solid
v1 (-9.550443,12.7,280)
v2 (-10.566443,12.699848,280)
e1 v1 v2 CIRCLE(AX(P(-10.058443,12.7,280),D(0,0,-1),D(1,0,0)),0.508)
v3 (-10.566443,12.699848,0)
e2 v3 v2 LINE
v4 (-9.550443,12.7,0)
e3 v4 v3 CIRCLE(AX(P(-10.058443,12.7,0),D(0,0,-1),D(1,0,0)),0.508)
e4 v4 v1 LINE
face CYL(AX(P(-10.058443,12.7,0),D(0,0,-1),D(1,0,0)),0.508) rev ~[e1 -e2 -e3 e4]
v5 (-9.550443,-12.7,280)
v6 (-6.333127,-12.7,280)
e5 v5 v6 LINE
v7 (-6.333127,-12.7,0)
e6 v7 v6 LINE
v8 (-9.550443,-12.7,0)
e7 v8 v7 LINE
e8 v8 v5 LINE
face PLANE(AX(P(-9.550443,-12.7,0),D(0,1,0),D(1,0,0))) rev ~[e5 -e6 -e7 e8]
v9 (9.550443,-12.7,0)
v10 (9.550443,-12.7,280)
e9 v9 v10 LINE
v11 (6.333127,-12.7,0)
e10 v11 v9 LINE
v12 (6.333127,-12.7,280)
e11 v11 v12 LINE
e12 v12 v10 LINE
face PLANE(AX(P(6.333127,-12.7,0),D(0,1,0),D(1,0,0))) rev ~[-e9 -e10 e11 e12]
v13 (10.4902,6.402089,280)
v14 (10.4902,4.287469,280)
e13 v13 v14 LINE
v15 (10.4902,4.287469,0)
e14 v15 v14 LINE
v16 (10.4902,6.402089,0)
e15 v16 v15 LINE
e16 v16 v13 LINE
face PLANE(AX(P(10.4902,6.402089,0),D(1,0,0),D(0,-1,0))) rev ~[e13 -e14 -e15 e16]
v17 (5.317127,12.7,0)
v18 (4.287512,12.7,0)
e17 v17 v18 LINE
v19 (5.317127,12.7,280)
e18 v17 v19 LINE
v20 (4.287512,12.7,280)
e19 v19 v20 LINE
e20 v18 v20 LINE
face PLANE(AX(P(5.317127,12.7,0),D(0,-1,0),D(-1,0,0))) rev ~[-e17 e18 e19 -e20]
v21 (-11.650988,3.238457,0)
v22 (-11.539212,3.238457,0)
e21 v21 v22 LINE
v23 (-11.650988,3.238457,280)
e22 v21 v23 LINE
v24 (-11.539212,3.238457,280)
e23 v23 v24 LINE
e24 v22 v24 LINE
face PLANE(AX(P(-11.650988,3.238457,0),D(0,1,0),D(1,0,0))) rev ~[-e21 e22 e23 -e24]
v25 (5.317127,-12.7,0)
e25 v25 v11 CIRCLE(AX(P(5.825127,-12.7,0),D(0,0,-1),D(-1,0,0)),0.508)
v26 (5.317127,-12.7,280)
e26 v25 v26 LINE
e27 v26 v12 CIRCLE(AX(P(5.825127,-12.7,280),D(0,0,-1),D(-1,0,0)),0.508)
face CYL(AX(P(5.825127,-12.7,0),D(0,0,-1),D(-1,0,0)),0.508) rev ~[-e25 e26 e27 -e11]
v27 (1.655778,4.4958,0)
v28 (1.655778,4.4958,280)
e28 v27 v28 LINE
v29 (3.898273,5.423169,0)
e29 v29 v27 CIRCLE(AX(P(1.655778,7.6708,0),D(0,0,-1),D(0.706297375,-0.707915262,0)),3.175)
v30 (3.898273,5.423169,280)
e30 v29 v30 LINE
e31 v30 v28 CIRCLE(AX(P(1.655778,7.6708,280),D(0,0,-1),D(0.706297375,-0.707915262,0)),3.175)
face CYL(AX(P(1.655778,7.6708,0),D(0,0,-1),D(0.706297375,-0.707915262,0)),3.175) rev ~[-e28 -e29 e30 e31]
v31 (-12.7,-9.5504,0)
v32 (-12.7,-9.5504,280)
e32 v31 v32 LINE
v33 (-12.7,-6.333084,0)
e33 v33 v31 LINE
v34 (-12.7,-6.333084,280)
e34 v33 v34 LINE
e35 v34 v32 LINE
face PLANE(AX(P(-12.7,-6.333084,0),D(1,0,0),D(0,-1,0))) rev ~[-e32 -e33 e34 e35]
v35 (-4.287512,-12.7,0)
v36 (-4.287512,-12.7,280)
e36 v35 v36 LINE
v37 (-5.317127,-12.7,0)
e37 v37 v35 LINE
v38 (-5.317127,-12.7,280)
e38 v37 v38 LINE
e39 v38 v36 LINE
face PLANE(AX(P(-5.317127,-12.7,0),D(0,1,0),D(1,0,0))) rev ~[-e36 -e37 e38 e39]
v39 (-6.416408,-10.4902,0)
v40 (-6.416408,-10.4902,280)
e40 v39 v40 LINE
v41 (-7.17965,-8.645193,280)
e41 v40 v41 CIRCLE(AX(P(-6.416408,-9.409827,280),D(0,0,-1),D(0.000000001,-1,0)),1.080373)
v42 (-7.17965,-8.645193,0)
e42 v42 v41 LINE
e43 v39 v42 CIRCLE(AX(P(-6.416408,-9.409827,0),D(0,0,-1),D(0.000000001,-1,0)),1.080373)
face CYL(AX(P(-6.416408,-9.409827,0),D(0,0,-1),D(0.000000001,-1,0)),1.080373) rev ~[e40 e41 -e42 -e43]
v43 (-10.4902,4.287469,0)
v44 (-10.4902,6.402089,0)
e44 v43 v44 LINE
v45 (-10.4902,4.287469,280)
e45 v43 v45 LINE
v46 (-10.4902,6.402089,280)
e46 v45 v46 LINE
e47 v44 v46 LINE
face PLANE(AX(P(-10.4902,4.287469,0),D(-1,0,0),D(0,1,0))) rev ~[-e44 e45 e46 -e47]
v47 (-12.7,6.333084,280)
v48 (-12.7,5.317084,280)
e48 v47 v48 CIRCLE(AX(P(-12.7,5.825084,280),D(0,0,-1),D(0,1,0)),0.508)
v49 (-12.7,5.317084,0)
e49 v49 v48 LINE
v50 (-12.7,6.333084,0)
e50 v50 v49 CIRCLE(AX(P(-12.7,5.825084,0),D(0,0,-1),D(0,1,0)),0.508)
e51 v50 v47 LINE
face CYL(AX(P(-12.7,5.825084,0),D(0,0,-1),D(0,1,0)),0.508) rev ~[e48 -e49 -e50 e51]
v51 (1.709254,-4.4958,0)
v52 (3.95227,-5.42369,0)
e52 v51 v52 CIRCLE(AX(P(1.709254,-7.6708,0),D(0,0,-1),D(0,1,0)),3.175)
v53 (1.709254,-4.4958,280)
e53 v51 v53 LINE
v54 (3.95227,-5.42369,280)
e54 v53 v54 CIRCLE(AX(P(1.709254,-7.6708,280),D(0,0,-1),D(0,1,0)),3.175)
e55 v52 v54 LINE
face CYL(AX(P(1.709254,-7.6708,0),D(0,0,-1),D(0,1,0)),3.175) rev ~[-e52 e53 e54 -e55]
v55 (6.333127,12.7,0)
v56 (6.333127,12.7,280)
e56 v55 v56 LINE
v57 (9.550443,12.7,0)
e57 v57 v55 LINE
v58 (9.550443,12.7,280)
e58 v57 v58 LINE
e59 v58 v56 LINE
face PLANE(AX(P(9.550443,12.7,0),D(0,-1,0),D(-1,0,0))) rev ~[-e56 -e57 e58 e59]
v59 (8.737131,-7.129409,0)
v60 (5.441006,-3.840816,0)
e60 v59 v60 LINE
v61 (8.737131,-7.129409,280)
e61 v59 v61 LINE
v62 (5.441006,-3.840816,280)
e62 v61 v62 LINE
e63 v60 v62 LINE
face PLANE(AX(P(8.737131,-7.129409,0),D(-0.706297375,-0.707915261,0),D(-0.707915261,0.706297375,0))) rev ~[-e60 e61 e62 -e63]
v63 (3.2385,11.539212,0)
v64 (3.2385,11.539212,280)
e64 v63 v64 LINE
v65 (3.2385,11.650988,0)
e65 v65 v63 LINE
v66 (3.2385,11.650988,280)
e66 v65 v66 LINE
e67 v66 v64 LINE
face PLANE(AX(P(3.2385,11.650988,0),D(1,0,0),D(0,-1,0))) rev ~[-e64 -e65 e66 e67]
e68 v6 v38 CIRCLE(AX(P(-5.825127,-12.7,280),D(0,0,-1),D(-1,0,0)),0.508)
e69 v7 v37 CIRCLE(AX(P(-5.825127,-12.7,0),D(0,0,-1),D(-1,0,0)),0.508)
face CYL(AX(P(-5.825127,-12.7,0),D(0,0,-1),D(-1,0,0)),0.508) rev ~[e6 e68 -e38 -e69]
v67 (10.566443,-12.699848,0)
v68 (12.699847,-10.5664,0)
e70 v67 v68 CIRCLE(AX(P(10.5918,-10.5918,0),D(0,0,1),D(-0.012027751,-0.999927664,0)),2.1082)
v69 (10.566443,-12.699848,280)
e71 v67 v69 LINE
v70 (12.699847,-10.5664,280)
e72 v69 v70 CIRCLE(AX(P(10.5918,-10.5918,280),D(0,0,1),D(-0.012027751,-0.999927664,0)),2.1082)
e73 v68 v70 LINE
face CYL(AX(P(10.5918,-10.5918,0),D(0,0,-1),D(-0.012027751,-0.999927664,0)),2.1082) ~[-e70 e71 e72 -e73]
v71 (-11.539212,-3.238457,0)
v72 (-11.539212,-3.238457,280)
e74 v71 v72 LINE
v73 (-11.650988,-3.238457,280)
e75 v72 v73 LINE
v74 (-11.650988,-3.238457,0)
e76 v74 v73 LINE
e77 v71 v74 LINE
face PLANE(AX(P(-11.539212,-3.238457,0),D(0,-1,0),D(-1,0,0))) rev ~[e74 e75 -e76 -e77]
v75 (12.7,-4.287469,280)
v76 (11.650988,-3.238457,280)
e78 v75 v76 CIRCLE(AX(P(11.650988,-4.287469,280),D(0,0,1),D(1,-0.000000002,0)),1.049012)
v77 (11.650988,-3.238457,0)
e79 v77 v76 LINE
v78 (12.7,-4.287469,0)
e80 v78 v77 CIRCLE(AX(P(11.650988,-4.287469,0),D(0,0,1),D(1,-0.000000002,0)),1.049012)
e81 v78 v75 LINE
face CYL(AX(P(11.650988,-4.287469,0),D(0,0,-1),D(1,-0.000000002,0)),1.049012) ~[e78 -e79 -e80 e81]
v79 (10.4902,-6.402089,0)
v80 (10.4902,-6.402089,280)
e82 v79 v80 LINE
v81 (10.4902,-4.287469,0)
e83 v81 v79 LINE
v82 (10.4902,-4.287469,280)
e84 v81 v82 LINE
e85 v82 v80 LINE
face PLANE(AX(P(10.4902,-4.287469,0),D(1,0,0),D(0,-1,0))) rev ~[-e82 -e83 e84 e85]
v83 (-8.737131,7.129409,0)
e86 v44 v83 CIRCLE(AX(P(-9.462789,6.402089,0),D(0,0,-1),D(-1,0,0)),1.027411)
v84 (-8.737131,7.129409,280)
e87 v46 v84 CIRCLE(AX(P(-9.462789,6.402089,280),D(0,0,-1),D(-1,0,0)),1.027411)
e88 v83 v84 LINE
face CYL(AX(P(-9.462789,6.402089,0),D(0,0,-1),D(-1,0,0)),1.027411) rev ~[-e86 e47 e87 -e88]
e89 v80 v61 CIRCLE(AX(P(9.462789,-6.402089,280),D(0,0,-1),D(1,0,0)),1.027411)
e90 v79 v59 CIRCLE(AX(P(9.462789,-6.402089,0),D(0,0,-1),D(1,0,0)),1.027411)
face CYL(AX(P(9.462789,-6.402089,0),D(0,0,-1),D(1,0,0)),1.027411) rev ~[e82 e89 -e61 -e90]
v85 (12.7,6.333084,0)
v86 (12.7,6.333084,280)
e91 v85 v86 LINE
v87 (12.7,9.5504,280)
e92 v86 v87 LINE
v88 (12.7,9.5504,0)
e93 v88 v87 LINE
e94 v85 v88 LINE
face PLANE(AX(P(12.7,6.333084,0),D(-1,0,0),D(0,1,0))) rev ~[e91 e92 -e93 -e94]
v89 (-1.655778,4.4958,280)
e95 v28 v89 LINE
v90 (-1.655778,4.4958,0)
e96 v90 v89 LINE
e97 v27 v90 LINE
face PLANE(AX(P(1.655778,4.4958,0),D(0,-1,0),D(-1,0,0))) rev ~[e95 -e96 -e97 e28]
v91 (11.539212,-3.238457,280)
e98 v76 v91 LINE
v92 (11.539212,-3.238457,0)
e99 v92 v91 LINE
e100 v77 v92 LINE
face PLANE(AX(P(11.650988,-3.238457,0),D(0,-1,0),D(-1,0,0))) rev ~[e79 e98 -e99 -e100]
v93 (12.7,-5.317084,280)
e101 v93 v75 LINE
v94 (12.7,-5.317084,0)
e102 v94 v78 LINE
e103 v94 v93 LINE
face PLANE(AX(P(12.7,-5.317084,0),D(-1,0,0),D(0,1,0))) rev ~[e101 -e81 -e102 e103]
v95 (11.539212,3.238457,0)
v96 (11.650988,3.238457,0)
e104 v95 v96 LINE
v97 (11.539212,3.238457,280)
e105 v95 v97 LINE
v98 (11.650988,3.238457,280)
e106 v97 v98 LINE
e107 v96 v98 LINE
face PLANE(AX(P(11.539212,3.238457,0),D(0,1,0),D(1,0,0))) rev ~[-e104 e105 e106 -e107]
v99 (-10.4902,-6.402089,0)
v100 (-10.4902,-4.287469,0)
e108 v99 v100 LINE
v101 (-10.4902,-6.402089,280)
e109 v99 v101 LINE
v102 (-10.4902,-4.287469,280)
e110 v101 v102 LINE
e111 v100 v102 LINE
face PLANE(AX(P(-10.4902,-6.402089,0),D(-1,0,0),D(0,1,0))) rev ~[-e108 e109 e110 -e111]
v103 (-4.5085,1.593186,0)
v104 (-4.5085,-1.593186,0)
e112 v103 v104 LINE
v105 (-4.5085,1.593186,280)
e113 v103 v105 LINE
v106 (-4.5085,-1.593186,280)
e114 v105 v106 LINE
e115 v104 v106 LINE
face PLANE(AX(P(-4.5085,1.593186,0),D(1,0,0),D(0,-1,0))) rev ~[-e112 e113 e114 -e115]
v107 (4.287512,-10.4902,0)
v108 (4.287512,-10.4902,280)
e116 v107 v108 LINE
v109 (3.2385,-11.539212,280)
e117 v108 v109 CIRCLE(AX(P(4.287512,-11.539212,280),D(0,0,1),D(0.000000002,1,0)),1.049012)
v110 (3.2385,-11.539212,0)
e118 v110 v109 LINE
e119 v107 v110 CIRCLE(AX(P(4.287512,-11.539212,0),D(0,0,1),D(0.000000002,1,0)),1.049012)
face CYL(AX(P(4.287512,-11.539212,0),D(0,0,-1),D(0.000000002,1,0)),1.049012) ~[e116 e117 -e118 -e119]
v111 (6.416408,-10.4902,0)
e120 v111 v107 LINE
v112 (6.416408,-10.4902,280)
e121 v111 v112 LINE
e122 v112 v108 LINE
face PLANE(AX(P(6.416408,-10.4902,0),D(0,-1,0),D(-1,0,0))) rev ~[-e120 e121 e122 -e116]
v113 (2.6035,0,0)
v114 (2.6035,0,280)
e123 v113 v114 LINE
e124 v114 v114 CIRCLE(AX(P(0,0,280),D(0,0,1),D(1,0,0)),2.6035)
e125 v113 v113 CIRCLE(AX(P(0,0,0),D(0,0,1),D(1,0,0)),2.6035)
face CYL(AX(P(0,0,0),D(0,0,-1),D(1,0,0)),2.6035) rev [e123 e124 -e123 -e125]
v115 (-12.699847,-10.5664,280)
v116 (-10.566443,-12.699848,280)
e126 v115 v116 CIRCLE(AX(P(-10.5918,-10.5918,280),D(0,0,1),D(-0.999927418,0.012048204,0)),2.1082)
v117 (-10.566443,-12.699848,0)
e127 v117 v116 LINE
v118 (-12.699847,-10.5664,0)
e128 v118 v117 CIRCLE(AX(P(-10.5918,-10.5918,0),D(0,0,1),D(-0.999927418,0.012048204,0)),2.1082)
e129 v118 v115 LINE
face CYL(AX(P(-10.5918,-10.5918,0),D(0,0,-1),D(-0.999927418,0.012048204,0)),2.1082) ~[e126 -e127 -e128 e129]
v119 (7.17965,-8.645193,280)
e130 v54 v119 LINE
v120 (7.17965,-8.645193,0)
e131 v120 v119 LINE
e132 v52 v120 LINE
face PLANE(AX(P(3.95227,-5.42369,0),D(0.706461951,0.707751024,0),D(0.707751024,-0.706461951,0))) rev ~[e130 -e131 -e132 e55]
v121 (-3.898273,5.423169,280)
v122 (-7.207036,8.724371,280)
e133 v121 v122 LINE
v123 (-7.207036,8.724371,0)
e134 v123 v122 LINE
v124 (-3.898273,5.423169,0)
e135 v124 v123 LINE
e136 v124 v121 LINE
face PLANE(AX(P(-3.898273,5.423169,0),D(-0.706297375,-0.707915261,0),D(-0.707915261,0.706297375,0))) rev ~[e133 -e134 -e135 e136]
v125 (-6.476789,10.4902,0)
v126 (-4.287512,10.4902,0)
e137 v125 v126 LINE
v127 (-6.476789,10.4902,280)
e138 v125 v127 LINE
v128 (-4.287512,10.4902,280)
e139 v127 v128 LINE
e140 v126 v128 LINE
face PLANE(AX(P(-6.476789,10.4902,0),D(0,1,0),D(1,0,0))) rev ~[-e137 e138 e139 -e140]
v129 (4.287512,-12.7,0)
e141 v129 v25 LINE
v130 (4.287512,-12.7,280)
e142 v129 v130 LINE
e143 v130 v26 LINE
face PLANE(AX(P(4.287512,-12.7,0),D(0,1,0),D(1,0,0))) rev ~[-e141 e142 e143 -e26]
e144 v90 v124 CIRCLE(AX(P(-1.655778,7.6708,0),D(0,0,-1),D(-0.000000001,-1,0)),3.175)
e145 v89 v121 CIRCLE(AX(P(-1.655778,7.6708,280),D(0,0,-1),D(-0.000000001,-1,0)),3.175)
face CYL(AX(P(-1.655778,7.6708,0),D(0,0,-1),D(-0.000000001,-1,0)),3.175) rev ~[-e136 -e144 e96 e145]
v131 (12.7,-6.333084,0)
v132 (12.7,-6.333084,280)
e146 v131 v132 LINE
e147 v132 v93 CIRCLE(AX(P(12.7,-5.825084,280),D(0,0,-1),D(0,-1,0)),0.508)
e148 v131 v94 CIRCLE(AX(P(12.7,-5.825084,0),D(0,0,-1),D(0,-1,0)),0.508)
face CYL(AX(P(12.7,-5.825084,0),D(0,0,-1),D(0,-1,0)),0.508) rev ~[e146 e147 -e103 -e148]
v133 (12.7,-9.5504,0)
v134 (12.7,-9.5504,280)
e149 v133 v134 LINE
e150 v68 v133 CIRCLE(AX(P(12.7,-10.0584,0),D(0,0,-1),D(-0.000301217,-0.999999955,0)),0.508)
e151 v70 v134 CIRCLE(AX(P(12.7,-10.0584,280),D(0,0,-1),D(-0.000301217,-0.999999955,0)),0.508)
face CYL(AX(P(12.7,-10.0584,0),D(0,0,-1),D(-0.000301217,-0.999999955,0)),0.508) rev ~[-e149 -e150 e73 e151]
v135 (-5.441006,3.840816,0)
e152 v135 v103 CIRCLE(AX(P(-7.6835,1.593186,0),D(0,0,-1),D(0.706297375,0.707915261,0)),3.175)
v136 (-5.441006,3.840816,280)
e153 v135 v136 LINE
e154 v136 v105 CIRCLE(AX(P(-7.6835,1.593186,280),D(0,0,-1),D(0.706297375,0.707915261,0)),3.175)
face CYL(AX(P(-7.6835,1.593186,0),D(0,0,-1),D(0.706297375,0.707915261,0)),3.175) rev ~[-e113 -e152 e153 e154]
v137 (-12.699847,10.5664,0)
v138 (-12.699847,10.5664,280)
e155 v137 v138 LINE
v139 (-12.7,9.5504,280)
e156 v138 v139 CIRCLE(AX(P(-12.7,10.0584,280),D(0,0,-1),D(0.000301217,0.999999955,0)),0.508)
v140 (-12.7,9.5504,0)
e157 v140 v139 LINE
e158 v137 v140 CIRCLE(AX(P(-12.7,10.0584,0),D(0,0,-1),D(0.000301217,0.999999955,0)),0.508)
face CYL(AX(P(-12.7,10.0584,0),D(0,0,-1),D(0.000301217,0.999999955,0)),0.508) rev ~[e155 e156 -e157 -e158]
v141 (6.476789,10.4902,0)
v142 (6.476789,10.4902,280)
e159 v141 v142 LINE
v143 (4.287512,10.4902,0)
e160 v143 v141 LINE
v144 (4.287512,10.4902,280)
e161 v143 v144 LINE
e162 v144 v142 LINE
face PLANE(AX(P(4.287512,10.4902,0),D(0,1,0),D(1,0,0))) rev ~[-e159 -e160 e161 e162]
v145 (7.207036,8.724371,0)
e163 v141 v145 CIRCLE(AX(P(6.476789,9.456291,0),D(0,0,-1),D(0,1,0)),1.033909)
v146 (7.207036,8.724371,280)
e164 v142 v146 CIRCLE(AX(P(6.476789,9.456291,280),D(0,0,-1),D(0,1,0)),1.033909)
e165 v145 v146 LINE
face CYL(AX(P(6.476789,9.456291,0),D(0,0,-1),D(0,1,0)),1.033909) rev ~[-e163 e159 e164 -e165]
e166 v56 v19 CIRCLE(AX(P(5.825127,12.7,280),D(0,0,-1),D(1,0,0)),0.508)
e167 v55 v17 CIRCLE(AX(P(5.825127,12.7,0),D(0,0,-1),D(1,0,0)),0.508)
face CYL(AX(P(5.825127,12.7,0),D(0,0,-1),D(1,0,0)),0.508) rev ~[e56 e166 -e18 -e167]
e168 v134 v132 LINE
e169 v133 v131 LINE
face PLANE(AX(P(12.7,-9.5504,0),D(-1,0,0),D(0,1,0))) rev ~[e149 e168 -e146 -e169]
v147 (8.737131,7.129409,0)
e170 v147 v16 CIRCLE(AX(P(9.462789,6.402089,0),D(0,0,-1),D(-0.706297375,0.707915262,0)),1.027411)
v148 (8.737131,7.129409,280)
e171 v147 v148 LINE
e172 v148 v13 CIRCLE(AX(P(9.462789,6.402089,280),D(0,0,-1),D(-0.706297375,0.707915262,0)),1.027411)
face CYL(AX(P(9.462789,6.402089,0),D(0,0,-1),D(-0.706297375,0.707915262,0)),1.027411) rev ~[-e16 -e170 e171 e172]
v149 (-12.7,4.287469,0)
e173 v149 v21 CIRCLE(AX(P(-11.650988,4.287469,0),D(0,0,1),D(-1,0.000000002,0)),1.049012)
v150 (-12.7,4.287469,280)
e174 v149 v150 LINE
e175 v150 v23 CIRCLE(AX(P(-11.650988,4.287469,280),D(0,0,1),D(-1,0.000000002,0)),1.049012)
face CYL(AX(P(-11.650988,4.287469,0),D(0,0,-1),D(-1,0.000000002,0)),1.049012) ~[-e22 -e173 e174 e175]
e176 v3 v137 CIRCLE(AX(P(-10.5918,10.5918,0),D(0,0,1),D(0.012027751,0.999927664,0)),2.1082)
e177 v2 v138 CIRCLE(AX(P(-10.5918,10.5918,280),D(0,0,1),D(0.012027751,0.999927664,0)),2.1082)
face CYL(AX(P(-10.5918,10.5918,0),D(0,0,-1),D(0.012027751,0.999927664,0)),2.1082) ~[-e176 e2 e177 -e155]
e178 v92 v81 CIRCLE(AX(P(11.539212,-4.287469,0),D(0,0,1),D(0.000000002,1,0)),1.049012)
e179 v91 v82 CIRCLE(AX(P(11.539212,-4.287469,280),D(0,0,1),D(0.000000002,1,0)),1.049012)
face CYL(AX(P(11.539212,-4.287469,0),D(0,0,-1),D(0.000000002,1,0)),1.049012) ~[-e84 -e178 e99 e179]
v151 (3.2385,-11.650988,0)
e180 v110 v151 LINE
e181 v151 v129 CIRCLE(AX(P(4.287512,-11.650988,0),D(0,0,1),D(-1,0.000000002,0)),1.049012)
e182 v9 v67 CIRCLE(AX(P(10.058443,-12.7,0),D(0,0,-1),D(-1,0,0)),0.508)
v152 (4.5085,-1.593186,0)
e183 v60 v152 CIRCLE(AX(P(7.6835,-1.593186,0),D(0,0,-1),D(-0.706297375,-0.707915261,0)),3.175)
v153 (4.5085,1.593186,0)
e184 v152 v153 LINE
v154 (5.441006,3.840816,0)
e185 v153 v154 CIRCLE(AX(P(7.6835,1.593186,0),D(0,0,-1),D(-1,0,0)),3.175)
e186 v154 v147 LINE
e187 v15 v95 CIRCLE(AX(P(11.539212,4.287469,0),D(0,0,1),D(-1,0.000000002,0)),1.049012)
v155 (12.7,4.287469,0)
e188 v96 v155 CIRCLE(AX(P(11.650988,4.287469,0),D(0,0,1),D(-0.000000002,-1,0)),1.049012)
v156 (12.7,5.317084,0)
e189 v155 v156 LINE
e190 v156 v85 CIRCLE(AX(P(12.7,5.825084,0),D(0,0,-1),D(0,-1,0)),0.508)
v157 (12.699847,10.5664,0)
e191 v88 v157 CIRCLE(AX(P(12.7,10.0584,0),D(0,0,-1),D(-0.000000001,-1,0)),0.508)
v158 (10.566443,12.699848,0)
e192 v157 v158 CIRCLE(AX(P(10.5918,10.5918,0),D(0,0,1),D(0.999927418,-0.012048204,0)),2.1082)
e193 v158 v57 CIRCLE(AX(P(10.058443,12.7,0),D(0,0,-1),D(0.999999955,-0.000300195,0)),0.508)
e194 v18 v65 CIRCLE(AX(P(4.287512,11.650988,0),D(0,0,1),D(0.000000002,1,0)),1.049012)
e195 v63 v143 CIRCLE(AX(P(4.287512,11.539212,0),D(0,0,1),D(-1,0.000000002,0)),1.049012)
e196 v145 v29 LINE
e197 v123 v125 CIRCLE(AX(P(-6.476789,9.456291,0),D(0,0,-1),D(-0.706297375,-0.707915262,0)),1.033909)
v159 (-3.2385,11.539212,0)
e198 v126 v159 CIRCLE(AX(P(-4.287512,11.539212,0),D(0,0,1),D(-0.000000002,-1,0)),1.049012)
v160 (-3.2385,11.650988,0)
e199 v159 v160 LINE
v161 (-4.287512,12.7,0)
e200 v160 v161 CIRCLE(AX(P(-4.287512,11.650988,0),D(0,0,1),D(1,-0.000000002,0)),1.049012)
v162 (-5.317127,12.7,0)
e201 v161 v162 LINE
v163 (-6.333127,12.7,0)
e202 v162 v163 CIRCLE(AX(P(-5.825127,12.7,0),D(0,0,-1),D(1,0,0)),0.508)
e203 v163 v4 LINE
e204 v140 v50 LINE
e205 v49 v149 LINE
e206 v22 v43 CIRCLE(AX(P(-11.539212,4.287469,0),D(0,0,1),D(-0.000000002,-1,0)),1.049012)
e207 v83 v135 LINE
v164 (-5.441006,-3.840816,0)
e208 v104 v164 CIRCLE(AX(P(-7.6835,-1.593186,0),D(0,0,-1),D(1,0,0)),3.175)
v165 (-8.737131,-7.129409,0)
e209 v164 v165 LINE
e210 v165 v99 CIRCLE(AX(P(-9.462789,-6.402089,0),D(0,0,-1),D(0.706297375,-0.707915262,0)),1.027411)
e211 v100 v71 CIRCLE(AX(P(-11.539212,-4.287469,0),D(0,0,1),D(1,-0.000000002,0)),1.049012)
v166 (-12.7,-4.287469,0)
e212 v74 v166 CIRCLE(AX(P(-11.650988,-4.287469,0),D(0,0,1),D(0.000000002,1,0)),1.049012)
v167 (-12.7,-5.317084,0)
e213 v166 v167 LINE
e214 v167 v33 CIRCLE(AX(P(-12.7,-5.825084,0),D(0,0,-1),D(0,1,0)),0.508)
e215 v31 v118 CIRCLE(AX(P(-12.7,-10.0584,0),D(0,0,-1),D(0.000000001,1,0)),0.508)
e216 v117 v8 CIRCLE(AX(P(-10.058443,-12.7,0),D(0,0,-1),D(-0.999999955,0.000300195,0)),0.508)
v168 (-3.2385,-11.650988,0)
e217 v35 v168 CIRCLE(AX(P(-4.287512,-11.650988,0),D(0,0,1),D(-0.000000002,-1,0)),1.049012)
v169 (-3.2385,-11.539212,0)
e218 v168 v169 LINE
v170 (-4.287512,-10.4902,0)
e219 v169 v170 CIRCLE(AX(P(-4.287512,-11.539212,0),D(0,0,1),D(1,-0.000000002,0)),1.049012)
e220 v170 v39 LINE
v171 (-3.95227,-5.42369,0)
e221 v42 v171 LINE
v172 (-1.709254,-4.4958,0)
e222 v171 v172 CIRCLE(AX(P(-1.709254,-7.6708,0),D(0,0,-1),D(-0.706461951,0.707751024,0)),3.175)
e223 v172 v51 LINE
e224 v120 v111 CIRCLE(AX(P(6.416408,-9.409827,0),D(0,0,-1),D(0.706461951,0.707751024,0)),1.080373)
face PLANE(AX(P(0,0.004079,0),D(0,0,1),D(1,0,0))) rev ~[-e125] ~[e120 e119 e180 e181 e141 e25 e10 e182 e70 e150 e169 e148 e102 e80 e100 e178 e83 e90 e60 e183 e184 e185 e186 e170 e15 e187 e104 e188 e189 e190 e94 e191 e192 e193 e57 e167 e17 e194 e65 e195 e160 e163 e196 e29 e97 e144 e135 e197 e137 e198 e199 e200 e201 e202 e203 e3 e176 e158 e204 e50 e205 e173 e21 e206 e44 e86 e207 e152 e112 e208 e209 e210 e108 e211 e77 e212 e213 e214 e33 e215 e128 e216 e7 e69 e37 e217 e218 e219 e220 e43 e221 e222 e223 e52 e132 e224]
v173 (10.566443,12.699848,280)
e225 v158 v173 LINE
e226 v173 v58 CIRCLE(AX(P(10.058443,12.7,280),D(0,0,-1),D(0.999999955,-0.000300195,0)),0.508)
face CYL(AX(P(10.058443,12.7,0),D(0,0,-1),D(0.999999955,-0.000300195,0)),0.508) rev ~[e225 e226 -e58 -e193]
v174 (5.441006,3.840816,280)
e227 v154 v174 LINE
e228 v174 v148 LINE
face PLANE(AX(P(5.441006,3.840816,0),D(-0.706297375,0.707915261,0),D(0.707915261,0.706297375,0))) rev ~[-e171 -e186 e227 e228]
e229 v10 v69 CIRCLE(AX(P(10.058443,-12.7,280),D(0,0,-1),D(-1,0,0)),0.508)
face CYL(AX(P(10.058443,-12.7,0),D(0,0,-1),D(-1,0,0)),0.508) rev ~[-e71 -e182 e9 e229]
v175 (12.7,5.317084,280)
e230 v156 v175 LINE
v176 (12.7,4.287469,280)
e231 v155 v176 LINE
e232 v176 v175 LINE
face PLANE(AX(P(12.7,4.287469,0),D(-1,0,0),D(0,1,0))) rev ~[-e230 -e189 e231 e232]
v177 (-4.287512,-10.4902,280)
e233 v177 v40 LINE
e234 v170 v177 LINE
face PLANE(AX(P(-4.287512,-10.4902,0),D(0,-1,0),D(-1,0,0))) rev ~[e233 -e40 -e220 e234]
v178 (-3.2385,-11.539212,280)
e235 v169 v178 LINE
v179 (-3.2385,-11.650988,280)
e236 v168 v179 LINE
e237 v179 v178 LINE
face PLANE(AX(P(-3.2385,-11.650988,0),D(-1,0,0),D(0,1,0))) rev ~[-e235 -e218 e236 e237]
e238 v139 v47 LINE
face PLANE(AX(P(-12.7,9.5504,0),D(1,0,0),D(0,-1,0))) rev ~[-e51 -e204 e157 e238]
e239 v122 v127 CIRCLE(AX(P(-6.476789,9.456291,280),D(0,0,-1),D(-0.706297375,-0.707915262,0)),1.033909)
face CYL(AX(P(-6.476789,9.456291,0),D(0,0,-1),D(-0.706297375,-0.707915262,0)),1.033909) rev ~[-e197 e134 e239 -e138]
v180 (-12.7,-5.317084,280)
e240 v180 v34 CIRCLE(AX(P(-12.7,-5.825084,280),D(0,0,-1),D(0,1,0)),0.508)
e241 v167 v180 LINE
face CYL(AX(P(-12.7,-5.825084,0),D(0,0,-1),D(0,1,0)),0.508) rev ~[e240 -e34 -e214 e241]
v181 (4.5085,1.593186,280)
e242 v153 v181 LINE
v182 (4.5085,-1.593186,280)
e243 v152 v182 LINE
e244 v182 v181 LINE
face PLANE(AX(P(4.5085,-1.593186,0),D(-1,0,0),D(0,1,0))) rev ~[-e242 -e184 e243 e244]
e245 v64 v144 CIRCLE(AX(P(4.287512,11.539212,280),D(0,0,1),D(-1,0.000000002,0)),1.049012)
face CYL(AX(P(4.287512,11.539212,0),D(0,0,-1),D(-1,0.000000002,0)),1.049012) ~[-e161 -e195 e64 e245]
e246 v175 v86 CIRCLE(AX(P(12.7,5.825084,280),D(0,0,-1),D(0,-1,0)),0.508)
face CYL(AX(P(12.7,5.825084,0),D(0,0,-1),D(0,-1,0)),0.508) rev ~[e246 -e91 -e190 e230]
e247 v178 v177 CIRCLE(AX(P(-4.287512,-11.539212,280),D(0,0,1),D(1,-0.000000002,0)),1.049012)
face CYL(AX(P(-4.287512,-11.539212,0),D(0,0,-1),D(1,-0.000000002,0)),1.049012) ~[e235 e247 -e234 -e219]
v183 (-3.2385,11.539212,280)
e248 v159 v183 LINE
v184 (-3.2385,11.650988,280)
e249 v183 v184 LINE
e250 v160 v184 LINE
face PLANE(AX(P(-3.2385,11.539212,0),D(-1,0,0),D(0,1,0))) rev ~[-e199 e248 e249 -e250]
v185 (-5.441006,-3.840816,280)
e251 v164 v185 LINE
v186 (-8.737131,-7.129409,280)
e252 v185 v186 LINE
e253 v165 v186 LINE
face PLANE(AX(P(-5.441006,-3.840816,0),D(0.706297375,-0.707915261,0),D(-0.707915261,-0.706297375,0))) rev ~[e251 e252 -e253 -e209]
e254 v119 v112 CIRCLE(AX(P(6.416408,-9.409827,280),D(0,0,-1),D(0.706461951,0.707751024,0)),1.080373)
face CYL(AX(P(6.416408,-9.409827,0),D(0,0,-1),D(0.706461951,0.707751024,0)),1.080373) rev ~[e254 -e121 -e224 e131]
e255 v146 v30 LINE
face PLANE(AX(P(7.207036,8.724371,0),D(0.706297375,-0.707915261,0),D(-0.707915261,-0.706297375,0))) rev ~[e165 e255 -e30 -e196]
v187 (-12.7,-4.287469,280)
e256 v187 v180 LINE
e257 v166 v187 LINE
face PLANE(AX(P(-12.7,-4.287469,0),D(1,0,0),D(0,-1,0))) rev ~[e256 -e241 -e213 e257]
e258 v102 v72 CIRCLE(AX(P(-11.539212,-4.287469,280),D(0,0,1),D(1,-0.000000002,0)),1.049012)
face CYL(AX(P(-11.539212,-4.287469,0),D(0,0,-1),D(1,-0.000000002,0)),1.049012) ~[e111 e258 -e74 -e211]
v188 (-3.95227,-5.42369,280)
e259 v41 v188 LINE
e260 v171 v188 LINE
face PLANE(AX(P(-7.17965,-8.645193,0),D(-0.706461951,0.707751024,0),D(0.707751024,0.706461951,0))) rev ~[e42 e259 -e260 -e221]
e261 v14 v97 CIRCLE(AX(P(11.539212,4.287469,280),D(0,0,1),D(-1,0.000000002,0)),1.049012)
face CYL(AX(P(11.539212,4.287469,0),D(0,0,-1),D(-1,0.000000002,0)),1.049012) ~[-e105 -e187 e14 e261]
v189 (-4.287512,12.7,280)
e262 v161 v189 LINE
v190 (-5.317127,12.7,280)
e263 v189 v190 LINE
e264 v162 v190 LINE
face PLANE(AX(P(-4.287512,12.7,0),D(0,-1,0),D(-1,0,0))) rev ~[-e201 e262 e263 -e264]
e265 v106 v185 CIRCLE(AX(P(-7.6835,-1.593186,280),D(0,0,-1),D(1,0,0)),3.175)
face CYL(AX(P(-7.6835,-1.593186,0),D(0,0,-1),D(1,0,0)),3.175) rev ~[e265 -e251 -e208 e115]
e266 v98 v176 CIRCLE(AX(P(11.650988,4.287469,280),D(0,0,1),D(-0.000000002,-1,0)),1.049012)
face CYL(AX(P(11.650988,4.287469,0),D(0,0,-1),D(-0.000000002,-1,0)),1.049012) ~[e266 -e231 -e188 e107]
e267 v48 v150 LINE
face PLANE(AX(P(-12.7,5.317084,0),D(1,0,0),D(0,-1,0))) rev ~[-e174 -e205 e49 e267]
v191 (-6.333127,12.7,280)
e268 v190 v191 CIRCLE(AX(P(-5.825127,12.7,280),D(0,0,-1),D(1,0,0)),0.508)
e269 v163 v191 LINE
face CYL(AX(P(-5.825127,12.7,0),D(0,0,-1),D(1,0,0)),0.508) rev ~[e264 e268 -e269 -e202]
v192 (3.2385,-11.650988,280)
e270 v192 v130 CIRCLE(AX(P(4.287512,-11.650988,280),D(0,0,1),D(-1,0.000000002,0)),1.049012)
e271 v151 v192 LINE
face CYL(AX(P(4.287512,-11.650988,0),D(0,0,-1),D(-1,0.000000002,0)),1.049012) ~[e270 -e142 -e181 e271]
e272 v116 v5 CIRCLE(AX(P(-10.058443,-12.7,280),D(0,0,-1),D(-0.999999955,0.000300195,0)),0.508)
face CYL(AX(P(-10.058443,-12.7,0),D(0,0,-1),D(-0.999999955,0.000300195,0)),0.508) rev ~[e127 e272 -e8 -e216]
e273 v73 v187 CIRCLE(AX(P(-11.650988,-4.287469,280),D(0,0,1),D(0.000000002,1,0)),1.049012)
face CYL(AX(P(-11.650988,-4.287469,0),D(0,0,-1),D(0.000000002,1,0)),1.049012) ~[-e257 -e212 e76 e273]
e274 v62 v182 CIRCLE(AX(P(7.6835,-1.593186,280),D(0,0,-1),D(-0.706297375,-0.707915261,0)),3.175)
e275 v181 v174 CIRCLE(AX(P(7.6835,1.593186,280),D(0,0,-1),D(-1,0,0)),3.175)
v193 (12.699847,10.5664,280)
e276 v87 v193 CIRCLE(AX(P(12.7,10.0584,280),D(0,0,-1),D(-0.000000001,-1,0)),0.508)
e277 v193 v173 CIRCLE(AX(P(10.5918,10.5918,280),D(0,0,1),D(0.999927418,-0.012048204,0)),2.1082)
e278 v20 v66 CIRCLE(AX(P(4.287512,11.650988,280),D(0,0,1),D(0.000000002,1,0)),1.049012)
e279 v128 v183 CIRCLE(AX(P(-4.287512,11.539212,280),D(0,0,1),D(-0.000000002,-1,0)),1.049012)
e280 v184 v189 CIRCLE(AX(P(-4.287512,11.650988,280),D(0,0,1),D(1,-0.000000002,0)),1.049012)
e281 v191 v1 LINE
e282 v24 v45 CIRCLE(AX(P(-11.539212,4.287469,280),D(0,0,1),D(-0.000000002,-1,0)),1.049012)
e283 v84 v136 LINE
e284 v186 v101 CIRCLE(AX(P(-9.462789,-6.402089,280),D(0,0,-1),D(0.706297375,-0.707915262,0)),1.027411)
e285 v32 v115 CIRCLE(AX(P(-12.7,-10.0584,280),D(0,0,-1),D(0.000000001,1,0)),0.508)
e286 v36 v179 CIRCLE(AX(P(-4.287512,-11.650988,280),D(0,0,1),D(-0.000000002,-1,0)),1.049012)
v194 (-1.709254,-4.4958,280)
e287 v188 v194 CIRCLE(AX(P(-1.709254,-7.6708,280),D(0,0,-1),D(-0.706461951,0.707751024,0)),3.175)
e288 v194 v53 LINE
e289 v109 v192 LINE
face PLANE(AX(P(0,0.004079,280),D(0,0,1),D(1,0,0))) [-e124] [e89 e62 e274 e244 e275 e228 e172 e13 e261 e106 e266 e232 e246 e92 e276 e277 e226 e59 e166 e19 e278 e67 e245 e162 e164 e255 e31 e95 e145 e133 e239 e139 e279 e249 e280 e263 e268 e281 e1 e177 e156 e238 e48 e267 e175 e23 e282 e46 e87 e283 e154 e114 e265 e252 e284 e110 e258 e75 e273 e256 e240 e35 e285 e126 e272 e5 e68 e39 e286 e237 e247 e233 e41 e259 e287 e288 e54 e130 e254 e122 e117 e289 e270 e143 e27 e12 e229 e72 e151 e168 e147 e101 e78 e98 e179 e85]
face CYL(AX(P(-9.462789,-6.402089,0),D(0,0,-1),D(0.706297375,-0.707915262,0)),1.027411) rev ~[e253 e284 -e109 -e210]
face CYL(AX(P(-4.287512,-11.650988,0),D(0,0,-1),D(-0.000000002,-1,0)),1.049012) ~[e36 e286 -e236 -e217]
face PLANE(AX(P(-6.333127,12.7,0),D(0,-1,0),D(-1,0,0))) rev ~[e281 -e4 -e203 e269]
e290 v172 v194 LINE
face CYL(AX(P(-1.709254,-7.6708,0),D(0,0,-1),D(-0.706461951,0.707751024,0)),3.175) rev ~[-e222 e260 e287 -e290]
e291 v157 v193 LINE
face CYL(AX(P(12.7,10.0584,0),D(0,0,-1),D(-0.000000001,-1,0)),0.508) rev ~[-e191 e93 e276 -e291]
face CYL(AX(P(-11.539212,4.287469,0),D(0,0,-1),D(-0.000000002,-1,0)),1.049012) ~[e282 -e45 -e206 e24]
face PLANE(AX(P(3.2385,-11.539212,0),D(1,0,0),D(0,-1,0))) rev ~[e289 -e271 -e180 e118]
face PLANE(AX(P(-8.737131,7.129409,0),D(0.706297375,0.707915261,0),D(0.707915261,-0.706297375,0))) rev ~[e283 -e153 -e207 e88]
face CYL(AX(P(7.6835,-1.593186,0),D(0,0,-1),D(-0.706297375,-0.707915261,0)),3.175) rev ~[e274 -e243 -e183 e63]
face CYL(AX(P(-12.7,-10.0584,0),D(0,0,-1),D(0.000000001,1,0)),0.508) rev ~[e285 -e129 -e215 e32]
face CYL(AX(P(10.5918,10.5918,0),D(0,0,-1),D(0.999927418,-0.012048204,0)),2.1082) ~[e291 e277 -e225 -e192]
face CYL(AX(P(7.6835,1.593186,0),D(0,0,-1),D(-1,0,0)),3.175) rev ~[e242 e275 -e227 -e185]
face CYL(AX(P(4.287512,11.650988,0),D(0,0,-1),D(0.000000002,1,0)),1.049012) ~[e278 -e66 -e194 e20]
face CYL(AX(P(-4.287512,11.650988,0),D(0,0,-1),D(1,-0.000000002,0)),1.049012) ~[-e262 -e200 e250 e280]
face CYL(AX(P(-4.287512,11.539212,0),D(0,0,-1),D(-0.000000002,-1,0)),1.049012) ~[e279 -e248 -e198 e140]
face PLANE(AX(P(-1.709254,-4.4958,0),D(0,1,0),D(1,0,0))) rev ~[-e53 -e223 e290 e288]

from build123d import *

# Parameters (mm, degrees)
SKETCH1_R           = 2.6035
BOSS_EXTRUDE1_DEPTH = 280


with BuildPart() as part:
    # Sketch1 → Boss-Extrude1 (new body)
    with BuildSketch(Plane.XY):
        with BuildLine():
            Line((-7.179650497, -8.645192506), (-3.952270251, -5.423690499))
            ThreePointArc((-3.952270251, -5.423690499), (-2.922936451, -4.736929036), (-1.709253557, -4.4958))
            Line((-1.709253557, -4.4958), (1.709253557, -4.4958))
            ThreePointArc((1.709253557, -4.4958), (2.922936451, -4.736929036), (3.952270251, -5.423690499))
            Line((3.952270251, -5.423690499), (7.179650497, -8.645192506))
            ThreePointArc((7.179650497, -8.645192506), (7.41473083, -9.822813117), (6.416408329, -10.4902))
            Line((6.416408329, -10.4902), (4.287512407, -10.4902))
            ThreePointArc((4.287512407, -10.4902), (3.54574862, -10.79744862), (3.2385, -11.539212407))
            Line((3.2385, -11.539212407), (3.2385, -11.650987593))
            ThreePointArc((3.2385, -11.650987593), (3.54574862, -12.39275138), (4.287512407, -12.7))
            Line((4.287512407, -12.7), (5.317126718, -12.7))
            ThreePointArc((5.317126718, -12.7), (5.825126718, -12.192), (6.333126718, -12.7))
            Line((6.333126718, -12.7), (9.550443118, -12.7))
            ThreePointArc((9.550443118, -12.7), (10.058366869, -12.192000006), (10.566443095, -12.699847501))
            ThreePointArc((10.566443095, -12.699847501), (12.082537762, -12.08250727), (12.699846982, -10.566399977))
            ThreePointArc((12.699846982, -10.566399977), (12.192000006, -10.058323491), (12.7, -9.5504))
            Line((12.7, -9.5504), (12.7, -6.3330836))
            ThreePointArc((12.7, -6.3330836), (12.192, -5.8250836), (12.7, -5.3170836))
            Line((12.7, -5.3170836), (12.7, -4.287469289))
            ThreePointArc((12.7, -4.287469289), (12.39275138, -3.545705502), (11.650987593, -3.238456882))
            Line((11.650987593, -3.238456882), (11.539212407, -3.238456882))
            ThreePointArc((11.539212407, -3.238456882), (10.79744862, -3.545705502), (10.4902, -4.287469289))
            Line((10.4902, -4.287469289), (10.4902, -6.402089023))
            ThreePointArc((10.4902, -6.402089023), (9.856505071, -7.351067942), (8.737131347, -7.129408934))
            Line((8.737131347, -7.129408934), (5.441005833, -3.840816462))
            ThreePointArc((5.441005833, -3.840816462), (4.750877967, -2.809883091), (4.5085, -1.593185507))
            Line((4.5085, -1.593185507), (4.5085, 1.593185507))
            ThreePointArc((4.5085, 1.593185507), (4.750877967, 2.809883091), (5.441005833, 3.840816462))
            Line((5.441005833, 3.840816462), (8.737131347, 7.129408934))
            ThreePointArc((8.737131347, 7.129408934), (9.856505071, 7.351067942), (10.4902, 6.402089023))
            Line((10.4902, 6.402089023), (10.4902, 4.287469289))
            ThreePointArc((10.4902, 4.287469289), (10.79744862, 3.545705502), (11.539212407, 3.238456882))
            Line((11.539212407, 3.238456882), (11.650987593, 3.238456882))
            ThreePointArc((11.650987593, 3.238456882), (12.39275138, 3.545705502), (12.7, 4.287469289))
            Line((12.7, 4.287469289), (12.7, 5.3170836))
            ThreePointArc((12.7, 5.3170836), (12.192, 5.8250836), (12.7, 6.3330836))
            Line((12.7, 6.3330836), (12.7, 9.5504))
            ThreePointArc((12.7, 9.5504), (12.192000006, 10.058323491), (12.699846982, 10.566399977))
            ThreePointArc((12.699846982, 10.566399977), (12.082537762, 12.08250727), (10.566443095, 12.699847501))
            ThreePointArc((10.566443095, 12.699847501), (10.058366869, 12.192000006), (9.550443118, 12.7))
            Line((9.550443118, 12.7), (6.333126718, 12.7))
            ThreePointArc((6.333126718, 12.7), (5.825126718, 12.192), (5.317126718, 12.7))
            Line((5.317126718, 12.7), (4.287512407, 12.7))
            ThreePointArc((4.287512407, 12.7), (3.54574862, 12.39275138), (3.2385, 11.650987593))
            Line((3.2385, 11.650987593), (3.2385, 11.539212407))
            ThreePointArc((3.2385, 11.539212407), (3.54574862, 10.79744862), (4.287512407, 10.4902))
            Line((4.287512407, 10.4902), (6.476788598, 10.4902))
            ThreePointArc((6.476788598, 10.4902), (7.432222385, 9.85140422), (7.207036008, 8.724370562))
            Line((7.207036008, 8.724370562), (3.898272566, 5.423169045))
            ThreePointArc((3.898272566, 5.423169045), (2.869120213, 4.736787962), (1.655778399, 4.4958))
            Line((1.655778399, 4.4958), (-1.655778399, 4.4958))
            ThreePointArc((-1.655778399, 4.4958), (-2.869120213, 4.736787962), (-3.898272566, 5.423169045))
            Line((-3.898272566, 5.423169045), (-7.207036008, 8.724370562))
            ThreePointArc((-7.207036008, 8.724370562), (-7.432222385, 9.85140422), (-6.476788598, 10.4902))
            Line((-6.476788598, 10.4902), (-4.287512407, 10.4902))
            ThreePointArc((-4.287512407, 10.4902), (-3.54574862, 10.79744862), (-3.2385, 11.539212407))
            Line((-3.2385, 11.539212407), (-3.2385, 11.650987593))
            ThreePointArc((-3.2385, 11.650987593), (-3.54574862, 12.39275138), (-4.287512407, 12.7))
            Line((-4.287512407, 12.7), (-5.317126718, 12.7))
            ThreePointArc((-5.317126718, 12.7), (-5.825126718, 12.192), (-6.333126718, 12.7))
            Line((-6.333126718, 12.7), (-9.550443118, 12.7))
            ThreePointArc((-9.550443118, 12.7), (-10.058366869, 12.192000006), (-10.566443095, 12.699847501))
            ThreePointArc((-10.566443095, 12.699847501), (-12.082537762, 12.08250727), (-12.699846982, 10.566399977))
            ThreePointArc((-12.699846982, 10.566399977), (-12.192000006, 10.058323491), (-12.7, 9.5504))
            Line((-12.7, 9.5504), (-12.7, 6.3330836))
            ThreePointArc((-12.7, 6.3330836), (-12.192, 5.8250836), (-12.7, 5.3170836))
            Line((-12.7, 5.3170836), (-12.7, 4.287469289))
            ThreePointArc((-12.7, 4.287469289), (-12.39275138, 3.545705502), (-11.650987593, 3.238456882))
            Line((-11.650987593, 3.238456882), (-11.539212407, 3.238456882))
            ThreePointArc((-11.539212407, 3.238456882), (-10.79744862, 3.545705502), (-10.4902, 4.287469289))
            Line((-10.4902, 4.287469289), (-10.4902, 6.402089023))
            ThreePointArc((-10.4902, 6.402089023), (-9.856505071, 7.351067942), (-8.737131347, 7.129408934))
            Line((-8.737131347, 7.129408934), (-5.441005833, 3.840816462))
            ThreePointArc((-5.441005833, 3.840816462), (-4.750877967, 2.809883091), (-4.5085, 1.593185507))
            Line((-4.5085, 1.593185507), (-4.5085, -1.593185507))
            ThreePointArc((-4.5085, -1.593185507), (-4.750877967, -2.809883091), (-5.441005833, -3.840816462))
            Line((-5.441005833, -3.840816462), (-8.737131347, -7.129408934))
            ThreePointArc((-8.737131347, -7.129408934), (-9.856505071, -7.351067942), (-10.4902, -6.402089023))
            Line((-10.4902, -6.402089023), (-10.4902, -4.287469289))
            ThreePointArc((-10.4902, -4.287469289), (-10.79744862, -3.545705502), (-11.539212407, -3.238456882))
            Line((-11.539212407, -3.238456882), (-11.650987593, -3.238456882))
            ThreePointArc((-11.650987593, -3.238456882), (-12.39275138, -3.545705502), (-12.7, -4.287469289))
            Line((-12.7, -4.287469289), (-12.7, -5.3170836))
            ThreePointArc((-12.7, -5.3170836), (-12.192, -5.8250836), (-12.7, -6.3330836))
            Line((-12.7, -6.3330836), (-12.7, -9.5504))
            ThreePointArc((-12.7, -9.5504), (-12.192000006, -10.058323491), (-12.699846982, -10.566399977))
            ThreePointArc((-12.699846982, -10.566399977), (-12.082537762, -12.08250727), (-10.566443095, -12.699847501))
            ThreePointArc((-10.566443095, -12.699847501), (-10.058366869, -12.192000006), (-9.550443118, -12.7))
            Line((-9.550443118, -12.7), (-6.333126718, -12.7))
            ThreePointArc((-6.333126718, -12.7), (-5.825126718, -12.192), (-5.317126718, -12.7))
            Line((-5.317126718, -12.7), (-4.287512407, -12.7))
            ThreePointArc((-4.287512407, -12.7), (-3.54574862, -12.39275138), (-3.2385, -11.650987593))
            Line((-3.2385, -11.650987593), (-3.2385, -11.539212407))
            ThreePointArc((-3.2385, -11.539212407), (-3.54574862, -10.79744862), (-4.287512407, -10.4902))
            Line((-4.287512407, -10.4902), (-6.416408329, -10.4902))
            ThreePointArc((-6.416408329, -10.4902), (-7.41473083, -9.822813117), (-7.179650497, -8.645192506))
        make_face()
        Circle(SKETCH1_R, mode=Mode.SUBTRACT)
    extrude(amount=BOSS_EXTRUDE1_DEPTH)


solid = part.part
